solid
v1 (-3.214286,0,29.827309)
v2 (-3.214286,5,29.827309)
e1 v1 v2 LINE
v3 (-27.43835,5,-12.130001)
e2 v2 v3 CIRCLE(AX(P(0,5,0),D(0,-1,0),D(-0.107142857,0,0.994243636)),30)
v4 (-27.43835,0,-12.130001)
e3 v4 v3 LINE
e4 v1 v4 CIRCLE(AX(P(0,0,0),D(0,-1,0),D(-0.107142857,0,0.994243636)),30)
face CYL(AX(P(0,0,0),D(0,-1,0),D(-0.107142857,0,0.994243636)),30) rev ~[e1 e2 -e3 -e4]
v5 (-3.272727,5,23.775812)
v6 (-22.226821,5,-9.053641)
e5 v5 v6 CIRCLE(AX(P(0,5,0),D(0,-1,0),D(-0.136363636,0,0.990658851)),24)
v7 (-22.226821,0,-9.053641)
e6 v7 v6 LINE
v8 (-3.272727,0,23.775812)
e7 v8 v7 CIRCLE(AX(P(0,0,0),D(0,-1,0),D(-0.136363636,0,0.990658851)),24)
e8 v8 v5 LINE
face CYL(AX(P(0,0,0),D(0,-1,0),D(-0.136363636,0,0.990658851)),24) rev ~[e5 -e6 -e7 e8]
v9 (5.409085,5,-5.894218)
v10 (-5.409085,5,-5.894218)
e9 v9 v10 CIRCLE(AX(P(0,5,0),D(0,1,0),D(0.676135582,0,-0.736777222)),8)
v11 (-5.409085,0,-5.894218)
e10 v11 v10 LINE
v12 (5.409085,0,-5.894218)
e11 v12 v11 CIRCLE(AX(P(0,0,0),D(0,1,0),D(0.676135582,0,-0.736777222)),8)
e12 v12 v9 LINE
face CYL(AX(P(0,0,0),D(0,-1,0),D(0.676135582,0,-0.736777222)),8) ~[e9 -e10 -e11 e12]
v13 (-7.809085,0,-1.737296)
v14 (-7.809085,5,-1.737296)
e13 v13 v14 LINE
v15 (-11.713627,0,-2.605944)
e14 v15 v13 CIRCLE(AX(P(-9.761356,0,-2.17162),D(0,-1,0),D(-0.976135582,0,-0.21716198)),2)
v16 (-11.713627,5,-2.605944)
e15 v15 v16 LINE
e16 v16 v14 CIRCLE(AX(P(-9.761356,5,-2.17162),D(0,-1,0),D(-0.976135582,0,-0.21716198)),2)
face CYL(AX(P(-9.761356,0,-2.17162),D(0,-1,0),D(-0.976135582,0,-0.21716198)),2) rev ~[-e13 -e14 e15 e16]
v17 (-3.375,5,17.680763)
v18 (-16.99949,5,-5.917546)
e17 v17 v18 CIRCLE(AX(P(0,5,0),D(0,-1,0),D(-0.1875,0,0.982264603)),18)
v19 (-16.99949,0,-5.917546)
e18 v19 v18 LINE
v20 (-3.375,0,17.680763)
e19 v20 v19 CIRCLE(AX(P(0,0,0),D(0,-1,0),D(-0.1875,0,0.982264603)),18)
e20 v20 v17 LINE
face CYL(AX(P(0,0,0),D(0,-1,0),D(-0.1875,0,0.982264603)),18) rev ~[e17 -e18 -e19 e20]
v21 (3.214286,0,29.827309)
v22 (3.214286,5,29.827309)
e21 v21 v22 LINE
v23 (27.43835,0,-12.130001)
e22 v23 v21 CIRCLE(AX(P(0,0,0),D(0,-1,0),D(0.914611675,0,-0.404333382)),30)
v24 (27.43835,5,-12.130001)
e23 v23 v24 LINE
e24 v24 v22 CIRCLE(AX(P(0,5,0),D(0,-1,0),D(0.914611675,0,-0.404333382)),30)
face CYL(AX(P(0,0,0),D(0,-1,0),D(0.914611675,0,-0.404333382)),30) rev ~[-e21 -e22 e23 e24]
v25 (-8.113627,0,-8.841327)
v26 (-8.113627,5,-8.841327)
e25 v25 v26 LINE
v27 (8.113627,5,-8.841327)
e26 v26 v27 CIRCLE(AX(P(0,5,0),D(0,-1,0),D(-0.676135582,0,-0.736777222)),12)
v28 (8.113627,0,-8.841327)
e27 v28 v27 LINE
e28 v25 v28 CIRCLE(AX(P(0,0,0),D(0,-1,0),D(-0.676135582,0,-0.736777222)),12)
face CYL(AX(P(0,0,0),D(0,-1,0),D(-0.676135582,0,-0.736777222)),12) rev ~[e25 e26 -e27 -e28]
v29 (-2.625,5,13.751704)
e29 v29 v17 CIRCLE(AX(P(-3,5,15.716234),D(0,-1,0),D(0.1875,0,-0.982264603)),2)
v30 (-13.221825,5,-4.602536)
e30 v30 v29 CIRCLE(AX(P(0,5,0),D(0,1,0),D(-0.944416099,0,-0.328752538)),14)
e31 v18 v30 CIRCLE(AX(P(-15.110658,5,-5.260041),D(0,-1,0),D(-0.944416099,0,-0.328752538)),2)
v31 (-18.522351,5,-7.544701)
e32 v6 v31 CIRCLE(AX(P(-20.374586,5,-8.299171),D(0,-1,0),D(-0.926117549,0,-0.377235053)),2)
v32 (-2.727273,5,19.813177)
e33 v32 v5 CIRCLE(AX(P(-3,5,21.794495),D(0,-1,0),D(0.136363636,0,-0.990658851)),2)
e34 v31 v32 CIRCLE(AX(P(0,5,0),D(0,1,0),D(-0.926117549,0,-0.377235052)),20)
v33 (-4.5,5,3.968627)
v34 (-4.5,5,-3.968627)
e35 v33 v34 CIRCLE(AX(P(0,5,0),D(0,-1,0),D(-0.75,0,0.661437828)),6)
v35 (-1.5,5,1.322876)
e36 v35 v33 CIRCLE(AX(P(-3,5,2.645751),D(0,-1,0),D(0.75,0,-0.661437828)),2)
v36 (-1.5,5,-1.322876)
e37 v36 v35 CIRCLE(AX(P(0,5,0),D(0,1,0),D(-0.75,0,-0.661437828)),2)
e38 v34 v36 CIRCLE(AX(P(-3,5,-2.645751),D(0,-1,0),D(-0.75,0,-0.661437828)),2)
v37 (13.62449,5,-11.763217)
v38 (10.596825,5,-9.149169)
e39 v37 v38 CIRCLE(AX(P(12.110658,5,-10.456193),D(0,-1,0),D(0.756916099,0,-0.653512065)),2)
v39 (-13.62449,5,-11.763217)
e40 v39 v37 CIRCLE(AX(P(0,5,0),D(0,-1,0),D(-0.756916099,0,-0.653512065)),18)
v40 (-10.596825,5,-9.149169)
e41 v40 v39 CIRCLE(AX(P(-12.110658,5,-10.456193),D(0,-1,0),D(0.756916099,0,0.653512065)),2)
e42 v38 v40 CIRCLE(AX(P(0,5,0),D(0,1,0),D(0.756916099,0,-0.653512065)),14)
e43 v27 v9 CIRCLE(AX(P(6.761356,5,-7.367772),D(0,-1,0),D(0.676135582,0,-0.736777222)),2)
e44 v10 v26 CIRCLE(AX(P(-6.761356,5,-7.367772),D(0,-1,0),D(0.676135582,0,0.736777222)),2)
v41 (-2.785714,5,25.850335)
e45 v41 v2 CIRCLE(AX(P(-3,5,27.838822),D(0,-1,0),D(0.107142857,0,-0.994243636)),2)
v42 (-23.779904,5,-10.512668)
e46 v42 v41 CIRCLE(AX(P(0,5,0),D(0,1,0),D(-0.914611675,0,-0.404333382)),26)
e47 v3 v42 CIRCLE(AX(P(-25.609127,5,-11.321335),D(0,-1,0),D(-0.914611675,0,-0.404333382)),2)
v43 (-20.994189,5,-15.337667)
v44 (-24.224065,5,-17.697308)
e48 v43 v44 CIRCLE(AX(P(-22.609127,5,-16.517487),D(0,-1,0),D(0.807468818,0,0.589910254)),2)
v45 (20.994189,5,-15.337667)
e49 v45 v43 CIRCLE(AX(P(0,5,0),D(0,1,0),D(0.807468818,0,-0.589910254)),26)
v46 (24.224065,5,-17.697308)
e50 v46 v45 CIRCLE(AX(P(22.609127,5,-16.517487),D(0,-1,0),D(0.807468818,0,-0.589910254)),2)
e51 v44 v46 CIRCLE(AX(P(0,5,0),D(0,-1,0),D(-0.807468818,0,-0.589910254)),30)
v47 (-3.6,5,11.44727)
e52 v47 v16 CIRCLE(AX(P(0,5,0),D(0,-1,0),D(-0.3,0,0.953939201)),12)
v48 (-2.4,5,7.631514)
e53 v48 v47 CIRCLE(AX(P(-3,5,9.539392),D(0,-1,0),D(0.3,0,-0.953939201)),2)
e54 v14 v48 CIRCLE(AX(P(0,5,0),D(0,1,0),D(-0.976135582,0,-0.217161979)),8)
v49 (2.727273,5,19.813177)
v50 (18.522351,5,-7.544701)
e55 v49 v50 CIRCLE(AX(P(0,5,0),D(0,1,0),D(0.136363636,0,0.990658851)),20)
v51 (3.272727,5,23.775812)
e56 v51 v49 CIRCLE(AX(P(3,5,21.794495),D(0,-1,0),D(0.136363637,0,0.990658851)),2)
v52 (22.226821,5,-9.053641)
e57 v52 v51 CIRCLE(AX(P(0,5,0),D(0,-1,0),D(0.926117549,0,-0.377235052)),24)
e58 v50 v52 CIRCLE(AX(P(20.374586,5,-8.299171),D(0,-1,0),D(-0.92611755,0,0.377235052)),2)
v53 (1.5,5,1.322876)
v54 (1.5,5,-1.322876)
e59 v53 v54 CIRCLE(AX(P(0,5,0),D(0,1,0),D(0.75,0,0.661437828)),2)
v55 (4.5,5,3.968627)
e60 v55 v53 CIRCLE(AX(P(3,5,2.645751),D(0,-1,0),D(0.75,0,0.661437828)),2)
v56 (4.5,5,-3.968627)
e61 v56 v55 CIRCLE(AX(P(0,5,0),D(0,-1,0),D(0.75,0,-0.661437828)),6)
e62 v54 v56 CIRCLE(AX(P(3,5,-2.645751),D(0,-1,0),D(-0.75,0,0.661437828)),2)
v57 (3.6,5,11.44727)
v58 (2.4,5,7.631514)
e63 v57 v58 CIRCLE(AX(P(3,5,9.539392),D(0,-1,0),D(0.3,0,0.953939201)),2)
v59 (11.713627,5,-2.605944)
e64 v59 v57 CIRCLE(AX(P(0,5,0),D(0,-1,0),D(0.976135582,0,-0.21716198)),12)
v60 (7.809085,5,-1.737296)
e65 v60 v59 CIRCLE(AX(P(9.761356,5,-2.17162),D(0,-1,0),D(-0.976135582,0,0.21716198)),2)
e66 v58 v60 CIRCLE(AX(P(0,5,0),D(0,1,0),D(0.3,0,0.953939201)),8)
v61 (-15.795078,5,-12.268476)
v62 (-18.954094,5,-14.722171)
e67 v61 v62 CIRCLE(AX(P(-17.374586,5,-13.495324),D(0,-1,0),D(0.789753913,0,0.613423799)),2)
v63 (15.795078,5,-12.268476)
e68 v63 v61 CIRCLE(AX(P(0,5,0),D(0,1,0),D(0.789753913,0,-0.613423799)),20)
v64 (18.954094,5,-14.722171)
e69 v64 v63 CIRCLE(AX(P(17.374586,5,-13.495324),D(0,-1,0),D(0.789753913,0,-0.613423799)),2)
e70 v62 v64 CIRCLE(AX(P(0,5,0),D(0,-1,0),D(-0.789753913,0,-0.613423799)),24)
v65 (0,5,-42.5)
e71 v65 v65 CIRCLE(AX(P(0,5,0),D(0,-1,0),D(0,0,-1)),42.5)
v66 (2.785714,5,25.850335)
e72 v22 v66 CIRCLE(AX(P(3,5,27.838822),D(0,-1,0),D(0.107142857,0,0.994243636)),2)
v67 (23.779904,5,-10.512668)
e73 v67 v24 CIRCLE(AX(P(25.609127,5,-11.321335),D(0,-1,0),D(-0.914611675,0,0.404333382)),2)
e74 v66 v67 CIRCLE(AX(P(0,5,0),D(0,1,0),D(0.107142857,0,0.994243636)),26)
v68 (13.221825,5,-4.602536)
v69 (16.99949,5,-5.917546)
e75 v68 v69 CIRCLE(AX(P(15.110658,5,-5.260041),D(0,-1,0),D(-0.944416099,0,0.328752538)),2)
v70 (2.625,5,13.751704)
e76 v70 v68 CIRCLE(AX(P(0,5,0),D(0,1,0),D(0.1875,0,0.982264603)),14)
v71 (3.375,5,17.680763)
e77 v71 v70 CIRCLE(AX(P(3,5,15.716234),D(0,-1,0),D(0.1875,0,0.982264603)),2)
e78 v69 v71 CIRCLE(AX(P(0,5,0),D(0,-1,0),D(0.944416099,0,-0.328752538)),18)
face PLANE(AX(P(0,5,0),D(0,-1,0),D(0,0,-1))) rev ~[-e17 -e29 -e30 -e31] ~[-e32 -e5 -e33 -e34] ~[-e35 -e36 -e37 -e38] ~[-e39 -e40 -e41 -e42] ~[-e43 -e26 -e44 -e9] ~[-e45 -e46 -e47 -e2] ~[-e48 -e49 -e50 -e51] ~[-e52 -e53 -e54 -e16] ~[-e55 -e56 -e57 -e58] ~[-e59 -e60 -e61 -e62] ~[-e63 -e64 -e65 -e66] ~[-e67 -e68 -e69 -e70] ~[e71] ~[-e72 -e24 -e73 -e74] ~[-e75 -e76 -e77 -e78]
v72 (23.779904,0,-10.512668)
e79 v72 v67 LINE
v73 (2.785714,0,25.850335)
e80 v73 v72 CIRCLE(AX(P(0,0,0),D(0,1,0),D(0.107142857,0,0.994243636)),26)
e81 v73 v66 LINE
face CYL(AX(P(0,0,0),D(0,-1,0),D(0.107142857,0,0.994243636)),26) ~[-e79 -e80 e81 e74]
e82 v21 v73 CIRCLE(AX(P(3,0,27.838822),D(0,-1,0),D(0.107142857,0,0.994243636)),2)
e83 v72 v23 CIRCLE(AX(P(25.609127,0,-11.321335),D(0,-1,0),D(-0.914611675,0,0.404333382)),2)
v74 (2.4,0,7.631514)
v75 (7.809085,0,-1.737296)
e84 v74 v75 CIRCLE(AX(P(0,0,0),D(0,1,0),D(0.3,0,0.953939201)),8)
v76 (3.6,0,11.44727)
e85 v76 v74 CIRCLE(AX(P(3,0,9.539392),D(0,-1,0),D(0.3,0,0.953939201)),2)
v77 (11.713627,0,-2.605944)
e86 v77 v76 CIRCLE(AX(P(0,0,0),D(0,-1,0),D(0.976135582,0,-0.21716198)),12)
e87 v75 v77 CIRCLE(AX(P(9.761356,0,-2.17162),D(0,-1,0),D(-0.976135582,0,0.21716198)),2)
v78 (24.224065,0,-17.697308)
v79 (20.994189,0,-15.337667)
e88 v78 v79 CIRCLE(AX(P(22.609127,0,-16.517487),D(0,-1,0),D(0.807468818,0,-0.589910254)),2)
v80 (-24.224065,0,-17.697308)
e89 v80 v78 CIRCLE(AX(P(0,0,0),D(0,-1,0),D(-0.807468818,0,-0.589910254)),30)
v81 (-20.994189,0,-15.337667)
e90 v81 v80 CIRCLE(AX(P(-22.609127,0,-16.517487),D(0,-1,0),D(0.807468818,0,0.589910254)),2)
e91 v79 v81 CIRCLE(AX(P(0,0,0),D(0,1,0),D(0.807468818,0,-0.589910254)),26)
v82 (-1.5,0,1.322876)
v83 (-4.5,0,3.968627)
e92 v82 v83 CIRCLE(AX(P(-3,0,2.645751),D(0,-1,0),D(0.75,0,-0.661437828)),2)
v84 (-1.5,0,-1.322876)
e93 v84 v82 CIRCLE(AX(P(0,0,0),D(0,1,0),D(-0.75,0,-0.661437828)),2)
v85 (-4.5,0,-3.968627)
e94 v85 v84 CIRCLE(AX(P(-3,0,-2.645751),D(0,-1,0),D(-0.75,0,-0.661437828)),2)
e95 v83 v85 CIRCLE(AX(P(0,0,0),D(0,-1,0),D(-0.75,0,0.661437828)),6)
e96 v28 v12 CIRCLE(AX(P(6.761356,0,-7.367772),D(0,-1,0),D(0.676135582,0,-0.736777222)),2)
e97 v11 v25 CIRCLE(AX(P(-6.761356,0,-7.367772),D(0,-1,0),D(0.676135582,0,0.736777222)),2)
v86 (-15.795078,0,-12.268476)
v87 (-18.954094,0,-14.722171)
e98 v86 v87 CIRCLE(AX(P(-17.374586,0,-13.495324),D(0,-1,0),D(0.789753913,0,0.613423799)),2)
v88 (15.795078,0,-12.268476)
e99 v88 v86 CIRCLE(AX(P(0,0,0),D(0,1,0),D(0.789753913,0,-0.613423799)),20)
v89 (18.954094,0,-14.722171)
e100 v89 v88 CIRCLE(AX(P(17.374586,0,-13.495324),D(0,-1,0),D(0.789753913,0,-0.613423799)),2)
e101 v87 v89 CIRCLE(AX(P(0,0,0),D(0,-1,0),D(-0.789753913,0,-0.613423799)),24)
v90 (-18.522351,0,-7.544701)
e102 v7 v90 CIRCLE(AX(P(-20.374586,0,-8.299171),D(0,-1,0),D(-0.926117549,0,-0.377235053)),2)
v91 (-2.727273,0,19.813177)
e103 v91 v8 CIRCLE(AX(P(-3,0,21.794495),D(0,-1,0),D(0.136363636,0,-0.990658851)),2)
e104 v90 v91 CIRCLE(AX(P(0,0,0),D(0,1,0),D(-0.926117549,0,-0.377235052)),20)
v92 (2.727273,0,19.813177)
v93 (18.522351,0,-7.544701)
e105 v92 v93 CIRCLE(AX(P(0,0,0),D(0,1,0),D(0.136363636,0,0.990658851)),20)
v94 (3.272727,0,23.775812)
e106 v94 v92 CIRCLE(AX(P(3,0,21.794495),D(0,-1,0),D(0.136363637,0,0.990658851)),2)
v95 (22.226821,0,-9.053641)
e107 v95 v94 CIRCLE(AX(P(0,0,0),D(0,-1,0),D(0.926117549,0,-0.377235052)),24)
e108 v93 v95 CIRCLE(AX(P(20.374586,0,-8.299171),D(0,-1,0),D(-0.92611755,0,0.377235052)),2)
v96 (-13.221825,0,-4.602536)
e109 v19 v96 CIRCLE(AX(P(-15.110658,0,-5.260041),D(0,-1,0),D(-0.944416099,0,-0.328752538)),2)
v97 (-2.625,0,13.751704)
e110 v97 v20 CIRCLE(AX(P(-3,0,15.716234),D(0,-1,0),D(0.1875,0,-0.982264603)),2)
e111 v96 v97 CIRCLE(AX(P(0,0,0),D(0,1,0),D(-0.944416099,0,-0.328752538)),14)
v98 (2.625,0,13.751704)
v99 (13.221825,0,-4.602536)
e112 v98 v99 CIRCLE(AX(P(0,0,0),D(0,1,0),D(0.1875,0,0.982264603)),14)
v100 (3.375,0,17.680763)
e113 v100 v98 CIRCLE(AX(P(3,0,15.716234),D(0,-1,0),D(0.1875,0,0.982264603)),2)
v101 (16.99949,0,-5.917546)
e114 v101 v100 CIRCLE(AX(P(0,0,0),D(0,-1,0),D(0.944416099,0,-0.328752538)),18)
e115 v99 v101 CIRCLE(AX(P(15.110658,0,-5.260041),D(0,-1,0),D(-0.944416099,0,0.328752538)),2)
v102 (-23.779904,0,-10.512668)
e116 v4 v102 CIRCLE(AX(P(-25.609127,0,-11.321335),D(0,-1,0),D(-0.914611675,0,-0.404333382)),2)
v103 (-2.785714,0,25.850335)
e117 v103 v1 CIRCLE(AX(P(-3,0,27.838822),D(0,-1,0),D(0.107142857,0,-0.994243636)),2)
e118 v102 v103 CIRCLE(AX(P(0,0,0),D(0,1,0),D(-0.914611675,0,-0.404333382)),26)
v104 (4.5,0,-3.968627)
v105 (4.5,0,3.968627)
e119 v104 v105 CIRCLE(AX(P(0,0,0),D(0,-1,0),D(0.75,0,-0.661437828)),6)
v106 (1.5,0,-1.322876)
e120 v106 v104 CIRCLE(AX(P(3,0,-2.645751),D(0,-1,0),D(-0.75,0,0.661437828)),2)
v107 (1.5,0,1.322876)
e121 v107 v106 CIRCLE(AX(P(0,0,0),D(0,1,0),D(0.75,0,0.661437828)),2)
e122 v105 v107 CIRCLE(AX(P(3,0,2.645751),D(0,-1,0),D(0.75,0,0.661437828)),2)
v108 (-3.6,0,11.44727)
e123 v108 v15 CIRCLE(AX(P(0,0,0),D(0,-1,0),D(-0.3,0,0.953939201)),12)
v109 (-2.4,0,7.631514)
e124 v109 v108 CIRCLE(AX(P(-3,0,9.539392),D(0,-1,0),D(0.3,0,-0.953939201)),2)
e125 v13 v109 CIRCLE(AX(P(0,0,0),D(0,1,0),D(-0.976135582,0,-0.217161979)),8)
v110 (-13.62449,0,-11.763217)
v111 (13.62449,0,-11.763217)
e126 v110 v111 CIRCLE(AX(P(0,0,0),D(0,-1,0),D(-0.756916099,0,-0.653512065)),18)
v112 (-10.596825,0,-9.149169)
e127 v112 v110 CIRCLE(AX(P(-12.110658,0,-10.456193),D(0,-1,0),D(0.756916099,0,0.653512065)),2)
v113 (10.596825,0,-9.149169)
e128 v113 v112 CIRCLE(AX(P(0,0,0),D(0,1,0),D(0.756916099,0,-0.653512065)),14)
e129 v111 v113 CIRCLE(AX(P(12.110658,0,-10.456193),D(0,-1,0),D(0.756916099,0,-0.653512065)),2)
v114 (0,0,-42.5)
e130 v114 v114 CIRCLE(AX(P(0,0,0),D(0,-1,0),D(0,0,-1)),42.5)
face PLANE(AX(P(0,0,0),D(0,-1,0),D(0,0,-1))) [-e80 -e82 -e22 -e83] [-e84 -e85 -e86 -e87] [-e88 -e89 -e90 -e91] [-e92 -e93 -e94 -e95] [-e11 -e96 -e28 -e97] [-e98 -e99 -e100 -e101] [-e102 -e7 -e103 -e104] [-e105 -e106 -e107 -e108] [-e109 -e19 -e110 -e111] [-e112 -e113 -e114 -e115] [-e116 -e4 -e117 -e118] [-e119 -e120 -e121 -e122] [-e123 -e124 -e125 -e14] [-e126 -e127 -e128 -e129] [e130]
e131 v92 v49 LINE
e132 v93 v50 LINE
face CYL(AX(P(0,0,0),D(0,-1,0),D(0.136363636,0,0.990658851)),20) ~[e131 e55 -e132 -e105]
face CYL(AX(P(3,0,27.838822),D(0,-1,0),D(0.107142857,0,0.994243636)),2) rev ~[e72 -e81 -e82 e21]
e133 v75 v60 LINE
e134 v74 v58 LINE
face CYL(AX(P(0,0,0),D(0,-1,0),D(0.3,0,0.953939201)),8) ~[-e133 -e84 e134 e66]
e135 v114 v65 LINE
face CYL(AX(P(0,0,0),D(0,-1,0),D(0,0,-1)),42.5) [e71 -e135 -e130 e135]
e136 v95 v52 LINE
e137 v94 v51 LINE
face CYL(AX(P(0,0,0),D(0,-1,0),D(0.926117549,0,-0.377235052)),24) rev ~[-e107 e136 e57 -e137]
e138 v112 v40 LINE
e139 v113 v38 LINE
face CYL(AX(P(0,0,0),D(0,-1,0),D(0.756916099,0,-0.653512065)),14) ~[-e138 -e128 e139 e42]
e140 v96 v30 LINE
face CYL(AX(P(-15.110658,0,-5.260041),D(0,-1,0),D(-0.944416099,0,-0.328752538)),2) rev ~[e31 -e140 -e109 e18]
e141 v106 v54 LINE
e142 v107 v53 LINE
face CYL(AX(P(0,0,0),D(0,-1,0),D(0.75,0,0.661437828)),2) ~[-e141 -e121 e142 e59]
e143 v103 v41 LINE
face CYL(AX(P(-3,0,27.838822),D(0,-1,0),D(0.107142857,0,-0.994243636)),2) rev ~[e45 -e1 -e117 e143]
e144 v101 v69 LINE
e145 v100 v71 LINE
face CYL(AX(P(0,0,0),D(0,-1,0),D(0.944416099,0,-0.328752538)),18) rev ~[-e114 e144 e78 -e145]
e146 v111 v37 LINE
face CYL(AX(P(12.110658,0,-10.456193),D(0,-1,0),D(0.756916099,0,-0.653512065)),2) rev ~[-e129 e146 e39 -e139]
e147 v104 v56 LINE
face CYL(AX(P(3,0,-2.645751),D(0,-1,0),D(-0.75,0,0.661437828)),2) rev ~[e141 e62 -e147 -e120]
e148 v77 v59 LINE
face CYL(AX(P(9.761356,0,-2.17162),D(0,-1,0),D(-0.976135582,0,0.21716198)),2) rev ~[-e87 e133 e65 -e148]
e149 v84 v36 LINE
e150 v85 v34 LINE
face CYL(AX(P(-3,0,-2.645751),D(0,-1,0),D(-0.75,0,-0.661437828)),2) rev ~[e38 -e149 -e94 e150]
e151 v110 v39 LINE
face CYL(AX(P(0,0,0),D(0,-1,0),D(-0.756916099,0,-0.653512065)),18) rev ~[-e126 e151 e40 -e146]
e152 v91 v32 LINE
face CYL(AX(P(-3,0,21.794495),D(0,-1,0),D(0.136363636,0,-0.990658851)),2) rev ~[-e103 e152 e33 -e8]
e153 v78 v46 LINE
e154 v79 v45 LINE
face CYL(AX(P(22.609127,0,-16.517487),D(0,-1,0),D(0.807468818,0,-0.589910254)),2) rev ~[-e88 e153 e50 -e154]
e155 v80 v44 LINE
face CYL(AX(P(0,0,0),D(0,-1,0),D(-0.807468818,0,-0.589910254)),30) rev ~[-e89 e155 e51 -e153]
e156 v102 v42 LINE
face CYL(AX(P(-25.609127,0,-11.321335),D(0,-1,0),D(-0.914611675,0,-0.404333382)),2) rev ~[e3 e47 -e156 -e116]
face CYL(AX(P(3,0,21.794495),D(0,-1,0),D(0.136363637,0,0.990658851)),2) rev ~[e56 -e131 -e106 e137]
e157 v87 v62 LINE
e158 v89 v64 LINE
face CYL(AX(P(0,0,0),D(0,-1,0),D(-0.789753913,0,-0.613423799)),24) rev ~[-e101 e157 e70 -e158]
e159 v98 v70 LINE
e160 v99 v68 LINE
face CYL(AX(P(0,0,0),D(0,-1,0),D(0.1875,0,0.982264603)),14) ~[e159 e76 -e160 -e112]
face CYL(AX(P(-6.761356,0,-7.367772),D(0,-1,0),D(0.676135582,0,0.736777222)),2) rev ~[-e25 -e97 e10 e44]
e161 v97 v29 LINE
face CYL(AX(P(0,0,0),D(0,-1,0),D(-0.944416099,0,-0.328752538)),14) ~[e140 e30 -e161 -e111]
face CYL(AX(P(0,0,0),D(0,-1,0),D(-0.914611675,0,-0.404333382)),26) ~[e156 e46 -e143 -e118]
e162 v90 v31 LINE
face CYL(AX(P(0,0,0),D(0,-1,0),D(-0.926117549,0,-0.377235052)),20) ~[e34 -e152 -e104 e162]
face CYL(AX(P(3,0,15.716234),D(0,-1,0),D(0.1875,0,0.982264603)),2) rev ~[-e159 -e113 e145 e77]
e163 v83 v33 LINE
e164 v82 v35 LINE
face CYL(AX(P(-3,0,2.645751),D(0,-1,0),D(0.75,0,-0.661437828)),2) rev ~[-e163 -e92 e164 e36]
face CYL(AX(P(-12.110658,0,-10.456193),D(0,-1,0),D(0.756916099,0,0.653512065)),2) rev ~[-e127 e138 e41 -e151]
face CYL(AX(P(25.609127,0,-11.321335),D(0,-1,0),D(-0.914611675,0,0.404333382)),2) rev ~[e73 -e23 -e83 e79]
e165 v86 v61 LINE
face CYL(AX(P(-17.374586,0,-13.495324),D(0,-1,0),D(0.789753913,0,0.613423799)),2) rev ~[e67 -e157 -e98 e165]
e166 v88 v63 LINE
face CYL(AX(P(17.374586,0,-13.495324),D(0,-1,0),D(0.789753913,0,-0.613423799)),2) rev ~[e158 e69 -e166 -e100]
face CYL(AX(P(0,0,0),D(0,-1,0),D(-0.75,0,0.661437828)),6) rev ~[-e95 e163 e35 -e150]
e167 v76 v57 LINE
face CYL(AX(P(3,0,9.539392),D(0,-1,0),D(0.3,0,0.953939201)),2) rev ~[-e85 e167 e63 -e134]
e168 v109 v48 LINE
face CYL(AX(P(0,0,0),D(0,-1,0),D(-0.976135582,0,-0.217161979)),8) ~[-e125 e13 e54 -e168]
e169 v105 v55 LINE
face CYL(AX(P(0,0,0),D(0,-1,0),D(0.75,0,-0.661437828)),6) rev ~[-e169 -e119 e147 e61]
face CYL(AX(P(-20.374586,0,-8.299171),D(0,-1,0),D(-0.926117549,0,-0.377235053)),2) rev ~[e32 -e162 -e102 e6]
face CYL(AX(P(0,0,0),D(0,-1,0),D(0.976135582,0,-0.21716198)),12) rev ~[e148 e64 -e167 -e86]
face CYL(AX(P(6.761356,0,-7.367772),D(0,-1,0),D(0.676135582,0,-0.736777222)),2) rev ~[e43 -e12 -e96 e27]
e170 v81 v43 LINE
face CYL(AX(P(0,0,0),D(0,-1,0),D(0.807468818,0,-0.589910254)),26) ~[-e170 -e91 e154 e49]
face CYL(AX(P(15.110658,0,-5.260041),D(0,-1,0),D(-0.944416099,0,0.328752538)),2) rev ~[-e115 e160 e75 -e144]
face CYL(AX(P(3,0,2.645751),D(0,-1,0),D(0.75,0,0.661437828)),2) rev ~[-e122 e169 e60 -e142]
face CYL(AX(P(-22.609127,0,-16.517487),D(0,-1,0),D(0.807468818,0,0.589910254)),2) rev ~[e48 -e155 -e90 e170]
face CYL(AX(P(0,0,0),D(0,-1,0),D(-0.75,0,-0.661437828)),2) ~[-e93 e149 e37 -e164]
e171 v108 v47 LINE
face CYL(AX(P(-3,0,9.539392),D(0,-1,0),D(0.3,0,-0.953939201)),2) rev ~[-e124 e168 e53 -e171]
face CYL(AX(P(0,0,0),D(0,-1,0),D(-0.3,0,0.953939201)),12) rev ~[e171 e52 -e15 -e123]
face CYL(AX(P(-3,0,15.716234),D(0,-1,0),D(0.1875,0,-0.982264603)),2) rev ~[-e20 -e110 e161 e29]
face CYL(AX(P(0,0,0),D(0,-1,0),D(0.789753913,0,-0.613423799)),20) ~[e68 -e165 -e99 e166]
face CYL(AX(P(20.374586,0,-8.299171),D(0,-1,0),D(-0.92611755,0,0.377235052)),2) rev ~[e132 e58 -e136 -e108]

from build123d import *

# Parameters (mm, degrees)
MODEL_R                         = 42.5
AUFSATZ_LINEAR_AUSTRAGEN1_DEPTH = 5


with BuildPart() as part:
    # Model → Aufsatz-Linear austragen1 (new body)
    with BuildSketch(Plane.XZ):
        with Locations(Location((0, 0, 0), (0, 0, 270))):  # turned: the seam where the file's is
            Circle(MODEL_R)
        with BuildLine():
            ThreePointArc((4.5, -3.968626967), (6, 0), (4.5, 3.968626967))
            ThreePointArc((4.5, 3.968626967), (1.677124344, 4.145751311), (1.5, 1.322875656))
            ThreePointArc((1.5, 1.322875656), (2, 0), (1.5, -1.322875656))
            ThreePointArc((1.5, -1.322875656), (1.677124344, -4.145751311), (4.5, -3.968626967))
        make_face(mode=Mode.SUBTRACT)
        with BuildLine():
            ThreePointArc((-1.5, 1.322875656), (-1.677124344, 4.145751311), (-4.5, 3.968626967))
            ThreePointArc((-4.5, 3.968626967), (-6, 0), (-4.5, -3.968626967))
            ThreePointArc((-4.5, -3.968626967), (-1.677124344, -4.145751311), (-1.5, -1.322875656))
            ThreePointArc((-1.5, -1.322875656), (-2, 0), (-1.5, 1.322875656))
        make_face(mode=Mode.SUBTRACT)
        with BuildLine():
            ThreePointArc((-5.409084657, -5.894217775), (-8.234910265, -6.015501054), (-8.113626985, -8.841326662))
            ThreePointArc((-8.113626985, -8.841326662), (0, -12), (8.113626985, -8.841326662))
            ThreePointArc((8.113626985, -8.841326662), (8.234910265, -6.015501054), (5.409084657, -5.894217775))
            ThreePointArc((5.409084657, -5.894217775), (0, -8), (-5.409084657, -5.894217775))
        make_face(mode=Mode.SUBTRACT)
        with BuildLine():
            ThreePointArc((7.809084657, -1.737295837), (9.327031862, -4.12389096), (11.713626985, -2.605943755))
            ThreePointArc((11.713626985, -2.605943755), (10.392304845, 6), (3.6, 11.447270417))
            ThreePointArc((3.6, 11.447270417), (1.092121597, 10.139392014), (2.4, 7.631513611))
            ThreePointArc((2.4, 7.631513611), (6.92820323, 4), (7.809084657, -1.737295837))
        make_face(mode=Mode.SUBTRACT)
        with BuildLine():
            ThreePointArc((-10.59682539, -9.149168905), (-13.417681718, -8.942360836), (-13.624489787, -11.763217163))
            ThreePointArc((-13.624489787, -11.763217163), (0, -18), (13.624489787, -11.763217163))
            ThreePointArc((13.624489787, -11.763217163), (13.417681718, -8.942360836), (10.59682539, -9.149168905))
            ThreePointArc((10.59682539, -9.149168905), (0, -14), (-10.59682539, -9.149168905))
        make_face(mode=Mode.SUBTRACT)
        with BuildLine():
            ThreePointArc((13.22182539, -4.602535535), (14.453152512, -7.14887281), (16.999489787, -5.917545688))
            ThreePointArc((16.999489787, -5.917545688), (15.588457268, 9), (3.375, 17.680762851))
            ThreePointArc((3.375, 17.680762851), (1.035470794, 16.091233646), (2.625, 13.75170444))
            ThreePointArc((2.625, 13.75170444), (12.124355653, 7), (13.22182539, -4.602535535))
        make_face(mode=Mode.SUBTRACT)
        with BuildLine():
            ThreePointArc((-3.214285714, 29.827309087), (-25.980762114, 15), (-27.438350253, -12.13000146))
            ThreePointArc((-27.438350253, -12.13000146), (-24.800460139, -13.150558046), (-23.779903552, -10.512667932))
            ThreePointArc((-23.779903552, -10.512667932), (-22.516660498, 13), (-2.785714286, 25.850334542))
            ThreePointArc((-2.785714286, 25.850334542), (-1.011512728, 28.053107528), (-3.214285714, 29.827309087))
        make_face(mode=Mode.SUBTRACT)
        with BuildLine():
            ThreePointArc((-22.226821187, -9.053641252), (-19.620115984, -10.151406246), (-18.522350989, -7.544701043))
            ThreePointArc((-18.522350989, -7.544701043), (-17.320508076, 10), (-2.727272727, 19.813177016))
            ThreePointArc((-2.727272727, 19.813177016), (-1.018682298, 22.06722199), (-3.272727273, 23.775812419))
            ThreePointArc((-3.272727273, 23.775812419), (-20.784609691, 12), (-22.226821187, -9.053641252))
        make_face(mode=Mode.SUBTRACT)
        with BuildLine():
            ThreePointArc((-2.4, 7.631513611), (-1.092121597, 10.139392014), (-3.6, 11.447270417))
            ThreePointArc((-3.6, 11.447270417), (-10.392304845, 6), (-11.713626985, -2.605943755))
            ThreePointArc((-11.713626985, -2.605943755), (-9.327031862, -4.12389096), (-7.809084657, -1.737295837))
            ThreePointArc((-7.809084657, -1.737295837), (-6.92820323, 4), (-2.4, 7.631513611))
        make_face(mode=Mode.SUBTRACT)
        with BuildLine():
            ThreePointArc((-2.625, 13.75170444), (-1.035470794, 16.091233646), (-3.375, 17.680762851))
            ThreePointArc((-3.375, 17.680762851), (-15.588457268, 9), (-16.999489787, -5.917545688))
            ThreePointArc((-16.999489787, -5.917545688), (-14.453152512, -7.14887281), (-13.22182539, -4.602535535))
            ThreePointArc((-13.22182539, -4.602535535), (-12.124355653, 7), (-2.625, 13.75170444))
        make_face(mode=Mode.SUBTRACT)
        with BuildLine():
            ThreePointArc((27.438350253, -12.13000146), (25.980762114, 15), (3.214285714, 29.827309087))
            ThreePointArc((3.214285714, 29.827309087), (1.011512728, 28.053107528), (2.785714286, 25.850334542))
            ThreePointArc((2.785714286, 25.850334542), (22.516660498, 13), (23.779903552, -10.512667932))
            ThreePointArc((23.779903552, -10.512667932), (24.800460139, -13.150558046), (27.438350253, -12.13000146))
        make_face(mode=Mode.SUBTRACT)
        with BuildLine():
            ThreePointArc((-24.224064538, -17.697307627), (0, -30), (24.224064538, -17.697307627))
            ThreePointArc((24.224064538, -17.697307627), (23.788947411, -14.902549483), (20.994189267, -15.33766661))
            ThreePointArc((20.994189267, -15.33766661), (0, -26), (-20.994189267, -15.33766661))
            ThreePointArc((-20.994189267, -15.33766661), (-23.788947411, -14.902549483), (-24.224064538, -17.697307627))
        make_face(mode=Mode.SUBTRACT)
        with BuildLine():
            ThreePointArc((3.272727273, 23.775812419), (1.018682298, 22.06722199), (2.727272727, 19.813177016))
            ThreePointArc((2.727272727, 19.813177016), (17.320508076, 10), (18.522350989, -7.544701043))
            ThreePointArc((18.522350989, -7.544701043), (19.620115984, -10.151406246), (22.226821187, -9.053641252))
            ThreePointArc((22.226821187, -9.053641252), (20.784609691, 12), (3.272727273, 23.775812419))
        make_face(mode=Mode.SUBTRACT)
        with BuildLine():
            ThreePointArc((18.954093914, -14.722171167), (18.601433685, -11.915815744), (15.795078262, -12.268475973))
            ThreePointArc((15.795078262, -12.268475973), (0, -20), (-15.795078262, -12.268475973))
            ThreePointArc((-15.795078262, -12.268475973), (-18.601433685, -11.915815744), (-18.954093914, -14.722171167))
            ThreePointArc((-18.954093914, -14.722171167), (0, -24), (18.954093914, -14.722171167))
        make_face(mode=Mode.SUBTRACT)
    extrude(amount=-AUFSATZ_LINEAR_AUSTRAGEN1_DEPTH)


solid = part.part
